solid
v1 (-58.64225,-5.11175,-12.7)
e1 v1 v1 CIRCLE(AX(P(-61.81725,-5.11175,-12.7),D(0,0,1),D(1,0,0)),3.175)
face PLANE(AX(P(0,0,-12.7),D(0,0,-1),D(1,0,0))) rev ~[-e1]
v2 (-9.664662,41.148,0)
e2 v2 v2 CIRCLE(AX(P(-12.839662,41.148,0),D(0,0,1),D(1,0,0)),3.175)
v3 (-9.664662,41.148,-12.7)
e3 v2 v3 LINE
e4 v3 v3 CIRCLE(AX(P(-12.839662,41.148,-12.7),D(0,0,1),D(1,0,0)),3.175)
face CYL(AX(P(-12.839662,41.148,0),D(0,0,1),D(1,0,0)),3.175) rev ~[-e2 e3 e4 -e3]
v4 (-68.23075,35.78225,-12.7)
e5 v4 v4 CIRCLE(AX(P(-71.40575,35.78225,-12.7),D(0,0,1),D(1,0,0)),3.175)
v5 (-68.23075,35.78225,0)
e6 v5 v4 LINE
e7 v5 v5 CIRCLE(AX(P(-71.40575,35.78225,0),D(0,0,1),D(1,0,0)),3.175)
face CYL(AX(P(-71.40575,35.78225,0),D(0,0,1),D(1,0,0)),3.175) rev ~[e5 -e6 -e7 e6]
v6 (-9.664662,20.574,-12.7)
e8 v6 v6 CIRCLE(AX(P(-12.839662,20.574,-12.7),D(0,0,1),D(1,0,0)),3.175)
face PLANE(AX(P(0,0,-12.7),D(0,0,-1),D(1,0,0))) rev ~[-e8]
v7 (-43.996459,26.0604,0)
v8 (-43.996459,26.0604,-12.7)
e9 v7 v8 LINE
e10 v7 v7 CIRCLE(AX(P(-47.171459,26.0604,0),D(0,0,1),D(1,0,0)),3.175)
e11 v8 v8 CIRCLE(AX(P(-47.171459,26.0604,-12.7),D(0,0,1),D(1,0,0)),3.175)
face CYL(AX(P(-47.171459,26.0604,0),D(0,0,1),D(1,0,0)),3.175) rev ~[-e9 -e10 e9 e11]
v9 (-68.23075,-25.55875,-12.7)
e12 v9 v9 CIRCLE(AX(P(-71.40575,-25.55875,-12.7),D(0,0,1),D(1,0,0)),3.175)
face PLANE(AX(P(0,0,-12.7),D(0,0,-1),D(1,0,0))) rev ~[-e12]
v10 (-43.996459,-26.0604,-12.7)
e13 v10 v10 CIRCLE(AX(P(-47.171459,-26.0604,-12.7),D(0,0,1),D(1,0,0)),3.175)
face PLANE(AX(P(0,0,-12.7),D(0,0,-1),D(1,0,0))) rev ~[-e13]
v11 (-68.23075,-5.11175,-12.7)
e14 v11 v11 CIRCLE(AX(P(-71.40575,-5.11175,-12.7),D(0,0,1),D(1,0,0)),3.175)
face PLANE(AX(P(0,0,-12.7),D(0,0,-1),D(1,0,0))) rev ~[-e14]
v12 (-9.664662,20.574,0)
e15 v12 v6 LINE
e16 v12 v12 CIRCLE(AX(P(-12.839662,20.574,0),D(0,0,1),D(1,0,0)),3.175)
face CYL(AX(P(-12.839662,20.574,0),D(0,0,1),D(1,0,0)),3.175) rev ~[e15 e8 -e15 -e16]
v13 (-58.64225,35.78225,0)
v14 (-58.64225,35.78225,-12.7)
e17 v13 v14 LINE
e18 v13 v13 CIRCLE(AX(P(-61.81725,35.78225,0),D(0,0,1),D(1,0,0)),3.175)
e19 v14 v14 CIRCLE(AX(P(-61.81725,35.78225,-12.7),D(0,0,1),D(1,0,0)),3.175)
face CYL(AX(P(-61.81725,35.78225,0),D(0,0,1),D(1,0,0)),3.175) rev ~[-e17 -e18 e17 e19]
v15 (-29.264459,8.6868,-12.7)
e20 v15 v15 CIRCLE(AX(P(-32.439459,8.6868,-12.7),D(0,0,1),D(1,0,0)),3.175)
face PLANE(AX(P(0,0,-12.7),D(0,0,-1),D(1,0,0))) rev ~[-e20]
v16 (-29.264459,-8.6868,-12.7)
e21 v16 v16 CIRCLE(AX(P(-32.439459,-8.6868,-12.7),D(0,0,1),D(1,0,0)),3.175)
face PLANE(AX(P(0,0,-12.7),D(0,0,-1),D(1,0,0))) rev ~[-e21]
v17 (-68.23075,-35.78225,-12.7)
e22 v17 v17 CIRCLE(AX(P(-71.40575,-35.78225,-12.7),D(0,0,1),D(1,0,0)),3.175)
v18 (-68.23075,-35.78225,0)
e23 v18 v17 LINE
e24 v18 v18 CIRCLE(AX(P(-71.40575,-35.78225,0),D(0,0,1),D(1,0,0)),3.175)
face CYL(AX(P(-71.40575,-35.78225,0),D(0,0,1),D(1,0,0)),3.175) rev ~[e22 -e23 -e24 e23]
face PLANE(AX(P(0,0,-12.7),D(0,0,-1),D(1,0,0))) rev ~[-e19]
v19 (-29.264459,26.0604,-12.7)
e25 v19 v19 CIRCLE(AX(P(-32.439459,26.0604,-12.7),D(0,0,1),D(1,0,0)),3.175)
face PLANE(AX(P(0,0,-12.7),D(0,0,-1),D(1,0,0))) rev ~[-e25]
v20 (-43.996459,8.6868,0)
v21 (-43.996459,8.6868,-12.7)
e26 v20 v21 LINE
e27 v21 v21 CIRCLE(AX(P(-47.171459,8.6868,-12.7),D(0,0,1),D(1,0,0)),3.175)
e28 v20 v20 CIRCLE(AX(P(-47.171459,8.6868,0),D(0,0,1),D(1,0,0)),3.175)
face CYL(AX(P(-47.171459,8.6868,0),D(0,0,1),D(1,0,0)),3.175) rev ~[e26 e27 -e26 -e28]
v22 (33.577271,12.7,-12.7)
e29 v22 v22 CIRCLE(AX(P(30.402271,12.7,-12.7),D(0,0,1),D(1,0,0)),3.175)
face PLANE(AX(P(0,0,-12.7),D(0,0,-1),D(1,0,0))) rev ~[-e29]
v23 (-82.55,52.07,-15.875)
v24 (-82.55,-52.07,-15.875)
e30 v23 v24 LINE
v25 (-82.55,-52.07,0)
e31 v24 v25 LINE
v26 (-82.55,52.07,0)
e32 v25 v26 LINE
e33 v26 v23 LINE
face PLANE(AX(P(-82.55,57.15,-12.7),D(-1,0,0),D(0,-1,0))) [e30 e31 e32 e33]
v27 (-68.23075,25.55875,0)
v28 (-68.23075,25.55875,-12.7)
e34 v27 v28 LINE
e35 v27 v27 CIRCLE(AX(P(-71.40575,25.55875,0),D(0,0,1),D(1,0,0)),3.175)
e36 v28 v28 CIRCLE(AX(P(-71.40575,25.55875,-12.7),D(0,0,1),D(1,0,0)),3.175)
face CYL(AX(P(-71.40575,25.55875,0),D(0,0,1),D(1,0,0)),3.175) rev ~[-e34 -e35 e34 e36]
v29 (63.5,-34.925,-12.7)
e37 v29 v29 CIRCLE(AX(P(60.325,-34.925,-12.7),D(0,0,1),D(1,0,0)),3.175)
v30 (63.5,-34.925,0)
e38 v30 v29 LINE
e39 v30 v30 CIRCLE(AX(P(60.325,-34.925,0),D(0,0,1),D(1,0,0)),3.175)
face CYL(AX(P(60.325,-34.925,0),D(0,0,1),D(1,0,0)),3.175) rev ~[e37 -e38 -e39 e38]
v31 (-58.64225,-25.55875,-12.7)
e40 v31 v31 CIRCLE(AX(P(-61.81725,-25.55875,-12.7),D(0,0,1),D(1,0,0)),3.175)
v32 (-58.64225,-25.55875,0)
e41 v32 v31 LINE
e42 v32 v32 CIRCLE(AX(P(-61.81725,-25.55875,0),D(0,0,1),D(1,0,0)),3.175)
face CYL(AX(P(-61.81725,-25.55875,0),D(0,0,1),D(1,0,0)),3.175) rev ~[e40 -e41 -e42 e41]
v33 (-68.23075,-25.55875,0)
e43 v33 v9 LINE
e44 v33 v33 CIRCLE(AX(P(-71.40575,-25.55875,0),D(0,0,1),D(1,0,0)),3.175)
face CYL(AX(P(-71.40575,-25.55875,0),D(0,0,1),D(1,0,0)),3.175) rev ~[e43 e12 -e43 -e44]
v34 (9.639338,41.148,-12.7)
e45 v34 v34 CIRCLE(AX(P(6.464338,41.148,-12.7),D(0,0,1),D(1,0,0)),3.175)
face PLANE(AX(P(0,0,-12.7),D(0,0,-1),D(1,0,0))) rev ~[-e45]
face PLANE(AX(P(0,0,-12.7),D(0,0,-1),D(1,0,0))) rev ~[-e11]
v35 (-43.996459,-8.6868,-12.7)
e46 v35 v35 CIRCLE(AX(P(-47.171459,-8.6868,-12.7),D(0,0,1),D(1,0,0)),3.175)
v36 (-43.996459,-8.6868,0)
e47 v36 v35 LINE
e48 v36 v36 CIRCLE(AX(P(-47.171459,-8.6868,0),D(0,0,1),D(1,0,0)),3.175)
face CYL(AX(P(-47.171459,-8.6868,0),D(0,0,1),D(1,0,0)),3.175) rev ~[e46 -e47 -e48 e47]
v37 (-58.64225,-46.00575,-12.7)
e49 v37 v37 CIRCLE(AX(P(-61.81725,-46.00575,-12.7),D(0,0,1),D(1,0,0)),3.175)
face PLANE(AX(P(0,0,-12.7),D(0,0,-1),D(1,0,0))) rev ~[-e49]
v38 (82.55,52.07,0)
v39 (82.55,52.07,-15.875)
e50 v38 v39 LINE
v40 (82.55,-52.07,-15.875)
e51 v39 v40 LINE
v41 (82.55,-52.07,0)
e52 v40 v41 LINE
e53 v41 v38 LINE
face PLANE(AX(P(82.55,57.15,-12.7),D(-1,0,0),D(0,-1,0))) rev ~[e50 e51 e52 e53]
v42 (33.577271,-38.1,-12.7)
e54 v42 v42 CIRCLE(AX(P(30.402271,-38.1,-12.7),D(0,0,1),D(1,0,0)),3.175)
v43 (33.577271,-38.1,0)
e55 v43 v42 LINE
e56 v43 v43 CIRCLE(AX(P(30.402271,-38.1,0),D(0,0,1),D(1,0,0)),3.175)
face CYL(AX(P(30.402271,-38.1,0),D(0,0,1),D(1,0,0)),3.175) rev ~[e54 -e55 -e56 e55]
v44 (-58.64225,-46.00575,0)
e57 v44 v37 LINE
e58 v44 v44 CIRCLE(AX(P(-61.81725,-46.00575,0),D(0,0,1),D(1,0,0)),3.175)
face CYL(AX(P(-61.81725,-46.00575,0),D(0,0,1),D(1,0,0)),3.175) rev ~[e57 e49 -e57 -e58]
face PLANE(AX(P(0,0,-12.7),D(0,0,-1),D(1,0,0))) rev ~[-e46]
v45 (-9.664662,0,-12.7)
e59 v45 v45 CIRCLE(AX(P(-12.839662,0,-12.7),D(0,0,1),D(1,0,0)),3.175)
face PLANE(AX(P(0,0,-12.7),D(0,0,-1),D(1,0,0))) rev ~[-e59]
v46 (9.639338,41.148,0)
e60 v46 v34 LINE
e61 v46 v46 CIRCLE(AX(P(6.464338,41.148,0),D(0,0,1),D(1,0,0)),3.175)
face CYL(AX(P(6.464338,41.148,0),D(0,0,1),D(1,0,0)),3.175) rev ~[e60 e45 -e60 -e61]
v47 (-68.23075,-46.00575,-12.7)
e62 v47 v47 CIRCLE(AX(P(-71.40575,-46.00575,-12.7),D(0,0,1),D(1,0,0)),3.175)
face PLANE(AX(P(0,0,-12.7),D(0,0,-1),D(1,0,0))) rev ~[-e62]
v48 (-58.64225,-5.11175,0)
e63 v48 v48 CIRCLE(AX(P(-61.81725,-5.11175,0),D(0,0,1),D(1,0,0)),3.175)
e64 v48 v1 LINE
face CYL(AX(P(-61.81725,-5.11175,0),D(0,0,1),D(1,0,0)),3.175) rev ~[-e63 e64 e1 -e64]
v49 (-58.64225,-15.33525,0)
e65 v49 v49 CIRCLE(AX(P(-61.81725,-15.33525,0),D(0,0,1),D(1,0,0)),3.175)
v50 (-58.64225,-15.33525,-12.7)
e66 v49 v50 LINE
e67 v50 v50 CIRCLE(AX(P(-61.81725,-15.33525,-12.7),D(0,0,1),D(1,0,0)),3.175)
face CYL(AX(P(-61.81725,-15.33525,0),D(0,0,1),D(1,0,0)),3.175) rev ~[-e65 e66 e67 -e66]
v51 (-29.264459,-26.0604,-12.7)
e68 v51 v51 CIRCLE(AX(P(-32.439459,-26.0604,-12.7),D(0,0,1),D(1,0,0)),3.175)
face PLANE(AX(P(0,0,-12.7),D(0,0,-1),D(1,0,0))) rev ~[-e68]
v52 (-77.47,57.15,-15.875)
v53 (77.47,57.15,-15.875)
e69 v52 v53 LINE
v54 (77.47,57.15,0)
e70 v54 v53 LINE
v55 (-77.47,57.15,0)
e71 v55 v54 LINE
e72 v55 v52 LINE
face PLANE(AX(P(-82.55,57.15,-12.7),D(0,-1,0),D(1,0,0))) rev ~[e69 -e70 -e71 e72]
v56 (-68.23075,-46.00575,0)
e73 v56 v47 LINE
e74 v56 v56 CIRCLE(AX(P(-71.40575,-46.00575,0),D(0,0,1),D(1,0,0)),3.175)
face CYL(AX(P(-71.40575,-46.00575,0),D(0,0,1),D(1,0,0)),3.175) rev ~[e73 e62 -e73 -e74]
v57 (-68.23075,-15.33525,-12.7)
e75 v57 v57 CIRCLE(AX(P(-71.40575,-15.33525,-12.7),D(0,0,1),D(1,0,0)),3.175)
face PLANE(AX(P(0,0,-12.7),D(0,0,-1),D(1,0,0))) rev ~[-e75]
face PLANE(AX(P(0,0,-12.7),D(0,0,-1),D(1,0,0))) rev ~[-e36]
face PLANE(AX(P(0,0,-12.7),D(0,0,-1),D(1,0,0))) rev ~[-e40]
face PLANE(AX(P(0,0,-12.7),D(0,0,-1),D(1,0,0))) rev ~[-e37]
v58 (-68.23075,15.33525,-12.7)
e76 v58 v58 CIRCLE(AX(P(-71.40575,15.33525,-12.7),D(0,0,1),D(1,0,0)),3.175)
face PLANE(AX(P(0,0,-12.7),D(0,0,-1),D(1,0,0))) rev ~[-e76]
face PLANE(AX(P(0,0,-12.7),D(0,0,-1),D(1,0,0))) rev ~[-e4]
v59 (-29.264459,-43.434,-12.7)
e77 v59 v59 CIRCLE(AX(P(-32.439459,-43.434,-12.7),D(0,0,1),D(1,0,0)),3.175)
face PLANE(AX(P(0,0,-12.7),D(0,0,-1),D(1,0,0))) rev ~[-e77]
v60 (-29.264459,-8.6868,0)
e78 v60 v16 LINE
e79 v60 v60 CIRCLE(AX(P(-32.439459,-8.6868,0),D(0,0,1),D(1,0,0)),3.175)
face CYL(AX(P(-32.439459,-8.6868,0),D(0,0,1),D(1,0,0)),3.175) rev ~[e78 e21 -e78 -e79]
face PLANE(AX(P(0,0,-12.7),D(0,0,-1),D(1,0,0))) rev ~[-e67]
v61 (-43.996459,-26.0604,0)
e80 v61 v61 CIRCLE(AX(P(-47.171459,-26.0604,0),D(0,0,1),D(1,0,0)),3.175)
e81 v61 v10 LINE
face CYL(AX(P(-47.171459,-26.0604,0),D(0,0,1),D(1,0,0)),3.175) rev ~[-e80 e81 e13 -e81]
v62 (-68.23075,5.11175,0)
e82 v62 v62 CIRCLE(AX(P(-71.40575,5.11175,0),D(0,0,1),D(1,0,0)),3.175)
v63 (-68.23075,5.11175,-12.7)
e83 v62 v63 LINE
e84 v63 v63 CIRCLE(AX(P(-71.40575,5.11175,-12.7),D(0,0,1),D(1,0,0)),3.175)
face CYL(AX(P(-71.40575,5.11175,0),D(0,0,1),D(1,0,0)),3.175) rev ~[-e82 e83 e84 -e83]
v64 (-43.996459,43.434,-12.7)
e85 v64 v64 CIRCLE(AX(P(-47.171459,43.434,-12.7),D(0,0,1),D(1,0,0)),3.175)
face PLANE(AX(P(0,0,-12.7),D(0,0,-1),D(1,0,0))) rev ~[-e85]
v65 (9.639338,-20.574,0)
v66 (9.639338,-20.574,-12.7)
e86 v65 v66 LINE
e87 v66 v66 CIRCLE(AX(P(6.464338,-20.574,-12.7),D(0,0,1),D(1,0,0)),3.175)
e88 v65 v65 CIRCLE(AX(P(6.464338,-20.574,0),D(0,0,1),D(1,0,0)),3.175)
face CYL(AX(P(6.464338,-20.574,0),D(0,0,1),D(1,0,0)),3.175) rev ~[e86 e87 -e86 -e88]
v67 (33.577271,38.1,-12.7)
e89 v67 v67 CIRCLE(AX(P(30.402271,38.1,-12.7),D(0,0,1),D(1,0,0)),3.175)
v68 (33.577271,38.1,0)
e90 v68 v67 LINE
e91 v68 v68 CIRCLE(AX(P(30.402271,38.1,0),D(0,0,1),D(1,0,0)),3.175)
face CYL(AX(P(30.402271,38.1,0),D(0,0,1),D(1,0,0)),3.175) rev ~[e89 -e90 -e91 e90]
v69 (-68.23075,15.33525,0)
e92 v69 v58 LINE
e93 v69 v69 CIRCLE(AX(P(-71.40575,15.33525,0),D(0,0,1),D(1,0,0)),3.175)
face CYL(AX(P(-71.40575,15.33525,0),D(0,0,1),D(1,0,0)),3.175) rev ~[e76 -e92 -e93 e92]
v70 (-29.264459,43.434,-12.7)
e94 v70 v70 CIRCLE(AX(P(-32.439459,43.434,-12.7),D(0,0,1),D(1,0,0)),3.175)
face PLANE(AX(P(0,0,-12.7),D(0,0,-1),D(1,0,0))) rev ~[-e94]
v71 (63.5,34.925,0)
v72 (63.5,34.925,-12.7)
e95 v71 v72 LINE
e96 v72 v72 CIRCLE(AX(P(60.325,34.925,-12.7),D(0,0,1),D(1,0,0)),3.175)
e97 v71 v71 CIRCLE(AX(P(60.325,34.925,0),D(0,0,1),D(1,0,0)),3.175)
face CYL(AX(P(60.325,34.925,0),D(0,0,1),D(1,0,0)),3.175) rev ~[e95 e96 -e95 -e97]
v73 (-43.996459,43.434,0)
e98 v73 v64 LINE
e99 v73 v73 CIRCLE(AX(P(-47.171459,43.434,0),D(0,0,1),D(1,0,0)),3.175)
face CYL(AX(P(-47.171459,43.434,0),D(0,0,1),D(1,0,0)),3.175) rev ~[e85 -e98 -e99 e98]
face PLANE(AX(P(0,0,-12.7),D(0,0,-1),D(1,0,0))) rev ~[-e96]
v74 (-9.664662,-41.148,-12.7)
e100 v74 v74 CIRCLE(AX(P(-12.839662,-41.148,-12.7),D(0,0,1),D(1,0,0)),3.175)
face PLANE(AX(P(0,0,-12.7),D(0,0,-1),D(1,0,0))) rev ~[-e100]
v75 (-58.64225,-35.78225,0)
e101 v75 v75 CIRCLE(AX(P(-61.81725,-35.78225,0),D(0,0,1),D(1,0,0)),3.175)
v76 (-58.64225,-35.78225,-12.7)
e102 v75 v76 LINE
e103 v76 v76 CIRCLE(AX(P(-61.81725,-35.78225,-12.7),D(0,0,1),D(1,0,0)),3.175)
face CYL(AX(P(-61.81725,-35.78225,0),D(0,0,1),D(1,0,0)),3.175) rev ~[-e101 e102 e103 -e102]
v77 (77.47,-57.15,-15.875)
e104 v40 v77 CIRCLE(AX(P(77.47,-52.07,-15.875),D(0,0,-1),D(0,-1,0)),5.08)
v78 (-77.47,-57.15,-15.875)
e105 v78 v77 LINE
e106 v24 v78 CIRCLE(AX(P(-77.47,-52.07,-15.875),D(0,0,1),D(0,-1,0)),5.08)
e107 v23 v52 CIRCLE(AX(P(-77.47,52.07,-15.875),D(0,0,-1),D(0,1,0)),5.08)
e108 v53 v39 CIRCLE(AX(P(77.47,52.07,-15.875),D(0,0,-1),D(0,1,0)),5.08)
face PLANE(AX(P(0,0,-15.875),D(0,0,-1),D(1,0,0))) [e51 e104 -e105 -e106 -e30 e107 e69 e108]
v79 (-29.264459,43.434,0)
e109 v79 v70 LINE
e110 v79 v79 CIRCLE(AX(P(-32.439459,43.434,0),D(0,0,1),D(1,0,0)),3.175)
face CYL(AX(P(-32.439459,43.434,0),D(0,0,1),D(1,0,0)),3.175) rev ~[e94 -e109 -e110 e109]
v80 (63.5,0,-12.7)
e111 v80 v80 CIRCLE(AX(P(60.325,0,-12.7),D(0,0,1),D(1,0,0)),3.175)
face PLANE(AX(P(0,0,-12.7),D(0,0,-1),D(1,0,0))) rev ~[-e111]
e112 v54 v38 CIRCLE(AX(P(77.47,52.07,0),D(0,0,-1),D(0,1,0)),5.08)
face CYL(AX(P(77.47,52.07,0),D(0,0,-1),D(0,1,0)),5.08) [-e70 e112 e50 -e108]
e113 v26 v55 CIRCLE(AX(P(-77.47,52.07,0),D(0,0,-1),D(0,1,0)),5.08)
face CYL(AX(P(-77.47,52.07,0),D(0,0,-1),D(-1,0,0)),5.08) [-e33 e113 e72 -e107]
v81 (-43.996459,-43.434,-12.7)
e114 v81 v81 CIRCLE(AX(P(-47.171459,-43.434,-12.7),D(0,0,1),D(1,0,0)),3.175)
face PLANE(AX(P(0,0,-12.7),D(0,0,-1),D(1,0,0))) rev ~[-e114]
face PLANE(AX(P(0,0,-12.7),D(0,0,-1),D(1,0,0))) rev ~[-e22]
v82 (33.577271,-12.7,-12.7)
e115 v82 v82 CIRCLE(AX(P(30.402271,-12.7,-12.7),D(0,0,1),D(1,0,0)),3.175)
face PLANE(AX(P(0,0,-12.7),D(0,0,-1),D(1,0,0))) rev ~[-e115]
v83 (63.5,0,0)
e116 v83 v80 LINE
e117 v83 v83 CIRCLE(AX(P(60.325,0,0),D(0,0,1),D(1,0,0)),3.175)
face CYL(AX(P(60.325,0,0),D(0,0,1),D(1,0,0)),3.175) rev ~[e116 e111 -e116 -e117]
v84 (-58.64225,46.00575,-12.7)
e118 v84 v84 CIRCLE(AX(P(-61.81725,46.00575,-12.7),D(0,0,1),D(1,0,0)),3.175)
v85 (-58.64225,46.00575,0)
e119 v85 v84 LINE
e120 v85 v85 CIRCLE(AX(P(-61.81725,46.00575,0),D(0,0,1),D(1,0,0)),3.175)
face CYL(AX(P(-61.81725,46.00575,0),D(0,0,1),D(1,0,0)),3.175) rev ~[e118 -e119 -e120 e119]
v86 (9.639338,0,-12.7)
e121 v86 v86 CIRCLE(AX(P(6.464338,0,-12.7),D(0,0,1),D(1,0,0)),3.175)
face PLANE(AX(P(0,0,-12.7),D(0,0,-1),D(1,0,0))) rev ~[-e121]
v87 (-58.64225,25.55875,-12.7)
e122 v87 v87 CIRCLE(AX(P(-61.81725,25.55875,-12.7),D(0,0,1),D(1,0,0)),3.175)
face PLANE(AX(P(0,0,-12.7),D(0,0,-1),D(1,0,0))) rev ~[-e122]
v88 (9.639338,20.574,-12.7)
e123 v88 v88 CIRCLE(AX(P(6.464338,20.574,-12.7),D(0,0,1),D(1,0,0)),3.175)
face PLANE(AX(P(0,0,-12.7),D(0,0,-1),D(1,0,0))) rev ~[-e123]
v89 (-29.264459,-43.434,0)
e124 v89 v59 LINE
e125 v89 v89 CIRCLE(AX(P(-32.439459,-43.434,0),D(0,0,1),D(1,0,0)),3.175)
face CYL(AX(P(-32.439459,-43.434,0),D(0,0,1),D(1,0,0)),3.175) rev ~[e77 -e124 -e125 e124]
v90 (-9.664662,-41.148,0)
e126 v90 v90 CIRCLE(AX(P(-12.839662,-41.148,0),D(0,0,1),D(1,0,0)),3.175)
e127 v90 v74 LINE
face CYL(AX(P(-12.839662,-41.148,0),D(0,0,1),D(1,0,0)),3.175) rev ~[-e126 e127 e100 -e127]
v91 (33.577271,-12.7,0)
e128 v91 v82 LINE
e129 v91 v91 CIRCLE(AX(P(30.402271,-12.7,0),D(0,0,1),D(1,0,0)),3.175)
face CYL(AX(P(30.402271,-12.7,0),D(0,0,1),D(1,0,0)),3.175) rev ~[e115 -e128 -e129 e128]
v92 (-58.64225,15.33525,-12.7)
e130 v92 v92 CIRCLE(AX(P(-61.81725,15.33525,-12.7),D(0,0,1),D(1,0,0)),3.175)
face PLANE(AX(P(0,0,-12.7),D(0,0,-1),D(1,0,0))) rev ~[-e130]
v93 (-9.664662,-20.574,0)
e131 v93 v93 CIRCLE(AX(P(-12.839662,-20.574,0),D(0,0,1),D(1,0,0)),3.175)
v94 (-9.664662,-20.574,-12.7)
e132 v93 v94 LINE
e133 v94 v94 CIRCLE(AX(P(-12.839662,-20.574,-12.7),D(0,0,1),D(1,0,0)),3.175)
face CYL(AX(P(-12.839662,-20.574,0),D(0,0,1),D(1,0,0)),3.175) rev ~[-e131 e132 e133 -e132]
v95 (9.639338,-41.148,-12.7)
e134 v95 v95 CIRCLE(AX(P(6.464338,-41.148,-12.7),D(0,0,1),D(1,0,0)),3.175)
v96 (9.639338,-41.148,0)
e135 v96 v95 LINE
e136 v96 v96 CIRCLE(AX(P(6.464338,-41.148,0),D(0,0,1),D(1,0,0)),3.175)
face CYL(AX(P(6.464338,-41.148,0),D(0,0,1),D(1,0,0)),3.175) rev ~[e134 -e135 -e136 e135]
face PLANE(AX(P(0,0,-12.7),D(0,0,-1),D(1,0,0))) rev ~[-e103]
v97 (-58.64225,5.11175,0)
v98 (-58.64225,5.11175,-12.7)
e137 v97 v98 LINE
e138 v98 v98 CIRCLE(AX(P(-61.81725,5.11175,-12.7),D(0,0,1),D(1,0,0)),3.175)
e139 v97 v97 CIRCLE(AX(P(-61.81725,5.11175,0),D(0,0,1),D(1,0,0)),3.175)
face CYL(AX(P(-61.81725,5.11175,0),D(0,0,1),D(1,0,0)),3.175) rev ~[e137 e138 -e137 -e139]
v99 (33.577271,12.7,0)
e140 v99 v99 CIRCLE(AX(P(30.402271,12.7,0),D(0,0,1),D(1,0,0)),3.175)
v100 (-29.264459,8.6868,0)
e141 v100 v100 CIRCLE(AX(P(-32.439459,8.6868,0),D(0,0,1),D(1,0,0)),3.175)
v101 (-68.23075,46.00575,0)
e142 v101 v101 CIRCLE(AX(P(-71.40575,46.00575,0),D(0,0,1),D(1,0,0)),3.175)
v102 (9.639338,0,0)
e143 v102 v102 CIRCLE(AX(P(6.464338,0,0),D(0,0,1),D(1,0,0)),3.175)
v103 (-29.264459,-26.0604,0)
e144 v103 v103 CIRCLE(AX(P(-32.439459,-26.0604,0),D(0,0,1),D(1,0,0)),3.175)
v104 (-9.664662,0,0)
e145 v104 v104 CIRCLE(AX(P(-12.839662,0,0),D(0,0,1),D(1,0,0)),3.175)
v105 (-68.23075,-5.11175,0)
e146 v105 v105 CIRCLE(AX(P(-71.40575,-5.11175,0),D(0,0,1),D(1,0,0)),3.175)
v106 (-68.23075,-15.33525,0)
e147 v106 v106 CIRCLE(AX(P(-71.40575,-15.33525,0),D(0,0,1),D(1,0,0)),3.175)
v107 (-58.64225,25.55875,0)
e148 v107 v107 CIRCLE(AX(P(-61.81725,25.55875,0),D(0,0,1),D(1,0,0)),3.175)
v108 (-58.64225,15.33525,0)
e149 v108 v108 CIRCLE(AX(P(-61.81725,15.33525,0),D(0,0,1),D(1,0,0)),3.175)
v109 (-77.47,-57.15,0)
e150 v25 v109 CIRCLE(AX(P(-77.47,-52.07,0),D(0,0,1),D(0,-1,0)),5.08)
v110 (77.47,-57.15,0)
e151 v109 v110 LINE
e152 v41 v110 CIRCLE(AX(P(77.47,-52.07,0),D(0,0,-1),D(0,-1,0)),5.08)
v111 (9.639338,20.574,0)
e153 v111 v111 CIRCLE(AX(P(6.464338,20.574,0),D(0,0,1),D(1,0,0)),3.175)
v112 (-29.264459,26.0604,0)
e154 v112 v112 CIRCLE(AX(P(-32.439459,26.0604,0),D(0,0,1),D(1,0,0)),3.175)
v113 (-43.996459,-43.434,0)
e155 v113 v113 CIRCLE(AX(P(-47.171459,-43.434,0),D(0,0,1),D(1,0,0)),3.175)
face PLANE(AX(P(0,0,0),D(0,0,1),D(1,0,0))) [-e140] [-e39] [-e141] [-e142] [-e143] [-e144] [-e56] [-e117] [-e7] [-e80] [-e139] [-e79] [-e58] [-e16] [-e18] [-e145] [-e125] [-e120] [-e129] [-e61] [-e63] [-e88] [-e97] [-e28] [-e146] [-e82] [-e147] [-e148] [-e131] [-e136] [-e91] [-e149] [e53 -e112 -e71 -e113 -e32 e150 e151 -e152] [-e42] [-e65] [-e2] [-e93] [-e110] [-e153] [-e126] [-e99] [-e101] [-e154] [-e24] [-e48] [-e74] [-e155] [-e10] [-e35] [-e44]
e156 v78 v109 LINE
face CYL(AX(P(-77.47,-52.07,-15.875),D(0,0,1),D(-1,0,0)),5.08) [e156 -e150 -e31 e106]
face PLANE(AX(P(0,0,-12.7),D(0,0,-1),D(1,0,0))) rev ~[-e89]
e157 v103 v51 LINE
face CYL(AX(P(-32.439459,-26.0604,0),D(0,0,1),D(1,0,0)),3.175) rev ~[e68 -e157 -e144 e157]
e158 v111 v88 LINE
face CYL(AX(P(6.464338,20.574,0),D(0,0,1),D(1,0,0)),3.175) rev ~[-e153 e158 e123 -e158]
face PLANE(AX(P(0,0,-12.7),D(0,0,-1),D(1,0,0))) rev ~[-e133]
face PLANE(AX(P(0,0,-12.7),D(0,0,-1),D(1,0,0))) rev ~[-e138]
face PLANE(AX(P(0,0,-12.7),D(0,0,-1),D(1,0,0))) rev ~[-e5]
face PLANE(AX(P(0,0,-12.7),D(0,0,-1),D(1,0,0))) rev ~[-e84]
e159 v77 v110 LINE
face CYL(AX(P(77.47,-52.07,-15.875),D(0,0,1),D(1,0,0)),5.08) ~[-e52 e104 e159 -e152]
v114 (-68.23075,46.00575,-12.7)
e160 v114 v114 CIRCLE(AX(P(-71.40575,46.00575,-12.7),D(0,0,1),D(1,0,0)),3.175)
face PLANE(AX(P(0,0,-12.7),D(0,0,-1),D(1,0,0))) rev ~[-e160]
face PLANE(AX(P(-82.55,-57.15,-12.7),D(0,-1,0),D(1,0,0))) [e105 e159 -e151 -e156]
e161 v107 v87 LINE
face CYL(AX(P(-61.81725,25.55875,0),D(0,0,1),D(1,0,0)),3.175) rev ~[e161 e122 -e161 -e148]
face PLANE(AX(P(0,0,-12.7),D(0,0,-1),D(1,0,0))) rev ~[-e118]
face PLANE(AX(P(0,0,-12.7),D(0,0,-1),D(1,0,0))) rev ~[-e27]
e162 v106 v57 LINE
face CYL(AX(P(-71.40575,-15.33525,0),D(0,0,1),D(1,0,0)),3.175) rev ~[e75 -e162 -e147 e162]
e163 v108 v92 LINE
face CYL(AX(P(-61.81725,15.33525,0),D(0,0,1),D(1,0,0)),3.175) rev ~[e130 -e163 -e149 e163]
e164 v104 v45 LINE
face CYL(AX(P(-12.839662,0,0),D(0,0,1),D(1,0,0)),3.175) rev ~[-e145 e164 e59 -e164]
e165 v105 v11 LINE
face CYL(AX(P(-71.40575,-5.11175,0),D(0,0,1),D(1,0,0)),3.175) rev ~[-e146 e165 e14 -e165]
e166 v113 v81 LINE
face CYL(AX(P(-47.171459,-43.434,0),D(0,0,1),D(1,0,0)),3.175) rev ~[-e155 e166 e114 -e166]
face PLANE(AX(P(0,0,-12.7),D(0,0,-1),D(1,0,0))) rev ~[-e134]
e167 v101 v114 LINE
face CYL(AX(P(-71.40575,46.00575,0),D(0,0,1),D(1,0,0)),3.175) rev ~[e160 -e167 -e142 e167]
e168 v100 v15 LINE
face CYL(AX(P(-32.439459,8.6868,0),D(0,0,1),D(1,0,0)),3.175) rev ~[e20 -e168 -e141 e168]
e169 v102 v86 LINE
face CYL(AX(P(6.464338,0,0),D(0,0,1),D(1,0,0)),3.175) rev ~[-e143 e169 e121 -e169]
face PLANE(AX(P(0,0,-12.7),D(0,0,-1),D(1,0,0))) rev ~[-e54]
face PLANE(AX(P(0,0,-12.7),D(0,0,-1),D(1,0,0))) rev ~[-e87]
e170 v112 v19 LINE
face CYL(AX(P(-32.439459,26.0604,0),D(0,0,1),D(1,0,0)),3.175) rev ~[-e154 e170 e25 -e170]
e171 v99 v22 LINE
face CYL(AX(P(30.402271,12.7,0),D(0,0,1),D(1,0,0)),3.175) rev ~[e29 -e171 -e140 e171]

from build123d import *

# Parameters (mm, degrees)
F0_W     = 165.1
F0_H     = 114.3
F0_R     = 3.175
F1_DEPTH = 12.7
F2_W     = 165.1
F2_H     = 114.3
F3_DEPTH = 3.175
F4_R     = 5.08


with BuildPart() as f1:
    # F0 (on Top) → F1 (new body)
    with BuildSketch(Plane.XY):
        Rectangle(F0_W, F0_H)
        with Locations((-71.40575, -46.00575)):
            Circle(F0_R, mode=Mode.SUBTRACT)
        with Locations((-61.81725, -46.00575)):
            Circle(F0_R, mode=Mode.SUBTRACT)
        with Locations((-47.171459, -43.434)):
            Circle(F0_R, mode=Mode.SUBTRACT)
        with Locations((-71.40575, -35.78225)):
            Circle(F0_R, mode=Mode.SUBTRACT)
        with Locations((-61.81725, -35.78225)):
            Circle(F0_R, mode=Mode.SUBTRACT)
        with Locations((-32.439459, -43.434)):
            Circle(F0_R, mode=Mode.SUBTRACT)
        with Locations((-12.839662, -41.148)):
            Circle(F0_R, mode=Mode.SUBTRACT)
        with Locations((-71.40575, -25.55875)):
            Circle(F0_R, mode=Mode.SUBTRACT)
        with Locations((-71.40575, -15.33525)):
            Circle(F0_R, mode=Mode.SUBTRACT)
        with Locations((-61.81725, -25.55875)):
            Circle(F0_R, mode=Mode.SUBTRACT)
        with Locations((-47.171459, -26.0604)):
            Circle(F0_R, mode=Mode.SUBTRACT)
        with Locations((-61.81725, -15.33525)):
            Circle(F0_R, mode=Mode.SUBTRACT)
        with Locations((-71.40575, -5.11175)):
            Circle(F0_R, mode=Mode.SUBTRACT)
        with Locations((-47.171459, -8.6868)):
            Circle(F0_R, mode=Mode.SUBTRACT)
        with Locations((-61.81725, -5.11175)):
            Circle(F0_R, mode=Mode.SUBTRACT)
        with Locations((-32.439459, -26.0604)):
            Circle(F0_R, mode=Mode.SUBTRACT)
        with Locations((-12.839662, -20.574)):
            Circle(F0_R, mode=Mode.SUBTRACT)
        with Locations((-32.439459, -8.6868)):
            Circle(F0_R, mode=Mode.SUBTRACT)
        with Locations((6.464338, -41.148)):
            Circle(F0_R, mode=Mode.SUBTRACT)
        with Locations((30.402271, -38.1)):
            Circle(F0_R, mode=Mode.SUBTRACT)
        with Locations((60.325, -34.925)):
            Circle(F0_R, mode=Mode.SUBTRACT)
        with Locations((6.464338, -20.574)):
            Circle(F0_R, mode=Mode.SUBTRACT)
        with Locations((30.402271, -12.7)):
            Circle(F0_R, mode=Mode.SUBTRACT)
        with Locations((-71.40575, 5.11175)):
            Circle(F0_R, mode=Mode.SUBTRACT)
        with Locations((-61.81725, 5.11175)):
            Circle(F0_R, mode=Mode.SUBTRACT)
        with Locations((-47.171459, 8.6868)):
            Circle(F0_R, mode=Mode.SUBTRACT)
        with Locations((-71.40575, 15.33525)):
            Circle(F0_R, mode=Mode.SUBTRACT)
        with Locations((-71.40575, 25.55875)):
            Circle(F0_R, mode=Mode.SUBTRACT)
        with Locations((-61.81725, 15.33525)):
            Circle(F0_R, mode=Mode.SUBTRACT)
        with Locations((-61.81725, 25.55875)):
            Circle(F0_R, mode=Mode.SUBTRACT)
        with Locations((-47.171459, 26.0604)):
            Circle(F0_R, mode=Mode.SUBTRACT)
        with Locations((-32.439459, 8.6868)):
            Circle(F0_R, mode=Mode.SUBTRACT)
        with Locations((-12.839662, 0)):
            Circle(F0_R, mode=Mode.SUBTRACT)
        with Locations((-32.439459, 26.0604)):
            Circle(F0_R, mode=Mode.SUBTRACT)
        with Locations((-12.839662, 20.574)):
            Circle(F0_R, mode=Mode.SUBTRACT)
        with Locations((-71.40575, 35.78225)):
            Circle(F0_R, mode=Mode.SUBTRACT)
        with Locations((-61.81725, 35.78225)):
            Circle(F0_R, mode=Mode.SUBTRACT)
        with Locations((-71.40575, 46.00575)):
            Circle(F0_R, mode=Mode.SUBTRACT)
        with Locations((-61.81725, 46.00575)):
            Circle(F0_R, mode=Mode.SUBTRACT)
        with Locations((-47.171459, 43.434)):
            Circle(F0_R, mode=Mode.SUBTRACT)
        with Locations((-12.839662, 41.148)):
            Circle(F0_R, mode=Mode.SUBTRACT)
        with Locations((-32.439459, 43.434)):
            Circle(F0_R, mode=Mode.SUBTRACT)
        with Locations((6.464338, 0)):
            Circle(F0_R, mode=Mode.SUBTRACT)
        with Locations((30.402271, 12.7)):
            Circle(F0_R, mode=Mode.SUBTRACT)
        with Locations((6.464338, 20.574)):
            Circle(F0_R, mode=Mode.SUBTRACT)
        with Locations((60.325, 0)):
            Circle(F0_R, mode=Mode.SUBTRACT)
        with Locations((6.464338, 41.148)):
            Circle(F0_R, mode=Mode.SUBTRACT)
        with Locations((30.402271, 38.1)):
            Circle(F0_R, mode=Mode.SUBTRACT)
        with Locations((60.325, 34.925)):
            Circle(F0_R, mode=Mode.SUBTRACT)
    extrude(amount=-F1_DEPTH)

    # F2 (on face) → F3 (join)
    with BuildSketch(Plane(origin=(0, 0, -12.7), x_dir=(1, 0, 0), z_dir=(0, 0, -1))):
        Rectangle(F2_W, F2_H)
    extrude(amount=F3_DEPTH)

    # F4
    f4_edges = [f1.edges().sort_by_distance(p)[0] for p in [
        (-82.55, -57.15, -7.9375),
        (-82.55, 57.15, -7.9375),
        (82.55, -57.15, -7.9375),
        (82.55, 57.15, -7.9375),
    ]]
    fillet(f4_edges, radius=F4_R)


solid = f1.part
